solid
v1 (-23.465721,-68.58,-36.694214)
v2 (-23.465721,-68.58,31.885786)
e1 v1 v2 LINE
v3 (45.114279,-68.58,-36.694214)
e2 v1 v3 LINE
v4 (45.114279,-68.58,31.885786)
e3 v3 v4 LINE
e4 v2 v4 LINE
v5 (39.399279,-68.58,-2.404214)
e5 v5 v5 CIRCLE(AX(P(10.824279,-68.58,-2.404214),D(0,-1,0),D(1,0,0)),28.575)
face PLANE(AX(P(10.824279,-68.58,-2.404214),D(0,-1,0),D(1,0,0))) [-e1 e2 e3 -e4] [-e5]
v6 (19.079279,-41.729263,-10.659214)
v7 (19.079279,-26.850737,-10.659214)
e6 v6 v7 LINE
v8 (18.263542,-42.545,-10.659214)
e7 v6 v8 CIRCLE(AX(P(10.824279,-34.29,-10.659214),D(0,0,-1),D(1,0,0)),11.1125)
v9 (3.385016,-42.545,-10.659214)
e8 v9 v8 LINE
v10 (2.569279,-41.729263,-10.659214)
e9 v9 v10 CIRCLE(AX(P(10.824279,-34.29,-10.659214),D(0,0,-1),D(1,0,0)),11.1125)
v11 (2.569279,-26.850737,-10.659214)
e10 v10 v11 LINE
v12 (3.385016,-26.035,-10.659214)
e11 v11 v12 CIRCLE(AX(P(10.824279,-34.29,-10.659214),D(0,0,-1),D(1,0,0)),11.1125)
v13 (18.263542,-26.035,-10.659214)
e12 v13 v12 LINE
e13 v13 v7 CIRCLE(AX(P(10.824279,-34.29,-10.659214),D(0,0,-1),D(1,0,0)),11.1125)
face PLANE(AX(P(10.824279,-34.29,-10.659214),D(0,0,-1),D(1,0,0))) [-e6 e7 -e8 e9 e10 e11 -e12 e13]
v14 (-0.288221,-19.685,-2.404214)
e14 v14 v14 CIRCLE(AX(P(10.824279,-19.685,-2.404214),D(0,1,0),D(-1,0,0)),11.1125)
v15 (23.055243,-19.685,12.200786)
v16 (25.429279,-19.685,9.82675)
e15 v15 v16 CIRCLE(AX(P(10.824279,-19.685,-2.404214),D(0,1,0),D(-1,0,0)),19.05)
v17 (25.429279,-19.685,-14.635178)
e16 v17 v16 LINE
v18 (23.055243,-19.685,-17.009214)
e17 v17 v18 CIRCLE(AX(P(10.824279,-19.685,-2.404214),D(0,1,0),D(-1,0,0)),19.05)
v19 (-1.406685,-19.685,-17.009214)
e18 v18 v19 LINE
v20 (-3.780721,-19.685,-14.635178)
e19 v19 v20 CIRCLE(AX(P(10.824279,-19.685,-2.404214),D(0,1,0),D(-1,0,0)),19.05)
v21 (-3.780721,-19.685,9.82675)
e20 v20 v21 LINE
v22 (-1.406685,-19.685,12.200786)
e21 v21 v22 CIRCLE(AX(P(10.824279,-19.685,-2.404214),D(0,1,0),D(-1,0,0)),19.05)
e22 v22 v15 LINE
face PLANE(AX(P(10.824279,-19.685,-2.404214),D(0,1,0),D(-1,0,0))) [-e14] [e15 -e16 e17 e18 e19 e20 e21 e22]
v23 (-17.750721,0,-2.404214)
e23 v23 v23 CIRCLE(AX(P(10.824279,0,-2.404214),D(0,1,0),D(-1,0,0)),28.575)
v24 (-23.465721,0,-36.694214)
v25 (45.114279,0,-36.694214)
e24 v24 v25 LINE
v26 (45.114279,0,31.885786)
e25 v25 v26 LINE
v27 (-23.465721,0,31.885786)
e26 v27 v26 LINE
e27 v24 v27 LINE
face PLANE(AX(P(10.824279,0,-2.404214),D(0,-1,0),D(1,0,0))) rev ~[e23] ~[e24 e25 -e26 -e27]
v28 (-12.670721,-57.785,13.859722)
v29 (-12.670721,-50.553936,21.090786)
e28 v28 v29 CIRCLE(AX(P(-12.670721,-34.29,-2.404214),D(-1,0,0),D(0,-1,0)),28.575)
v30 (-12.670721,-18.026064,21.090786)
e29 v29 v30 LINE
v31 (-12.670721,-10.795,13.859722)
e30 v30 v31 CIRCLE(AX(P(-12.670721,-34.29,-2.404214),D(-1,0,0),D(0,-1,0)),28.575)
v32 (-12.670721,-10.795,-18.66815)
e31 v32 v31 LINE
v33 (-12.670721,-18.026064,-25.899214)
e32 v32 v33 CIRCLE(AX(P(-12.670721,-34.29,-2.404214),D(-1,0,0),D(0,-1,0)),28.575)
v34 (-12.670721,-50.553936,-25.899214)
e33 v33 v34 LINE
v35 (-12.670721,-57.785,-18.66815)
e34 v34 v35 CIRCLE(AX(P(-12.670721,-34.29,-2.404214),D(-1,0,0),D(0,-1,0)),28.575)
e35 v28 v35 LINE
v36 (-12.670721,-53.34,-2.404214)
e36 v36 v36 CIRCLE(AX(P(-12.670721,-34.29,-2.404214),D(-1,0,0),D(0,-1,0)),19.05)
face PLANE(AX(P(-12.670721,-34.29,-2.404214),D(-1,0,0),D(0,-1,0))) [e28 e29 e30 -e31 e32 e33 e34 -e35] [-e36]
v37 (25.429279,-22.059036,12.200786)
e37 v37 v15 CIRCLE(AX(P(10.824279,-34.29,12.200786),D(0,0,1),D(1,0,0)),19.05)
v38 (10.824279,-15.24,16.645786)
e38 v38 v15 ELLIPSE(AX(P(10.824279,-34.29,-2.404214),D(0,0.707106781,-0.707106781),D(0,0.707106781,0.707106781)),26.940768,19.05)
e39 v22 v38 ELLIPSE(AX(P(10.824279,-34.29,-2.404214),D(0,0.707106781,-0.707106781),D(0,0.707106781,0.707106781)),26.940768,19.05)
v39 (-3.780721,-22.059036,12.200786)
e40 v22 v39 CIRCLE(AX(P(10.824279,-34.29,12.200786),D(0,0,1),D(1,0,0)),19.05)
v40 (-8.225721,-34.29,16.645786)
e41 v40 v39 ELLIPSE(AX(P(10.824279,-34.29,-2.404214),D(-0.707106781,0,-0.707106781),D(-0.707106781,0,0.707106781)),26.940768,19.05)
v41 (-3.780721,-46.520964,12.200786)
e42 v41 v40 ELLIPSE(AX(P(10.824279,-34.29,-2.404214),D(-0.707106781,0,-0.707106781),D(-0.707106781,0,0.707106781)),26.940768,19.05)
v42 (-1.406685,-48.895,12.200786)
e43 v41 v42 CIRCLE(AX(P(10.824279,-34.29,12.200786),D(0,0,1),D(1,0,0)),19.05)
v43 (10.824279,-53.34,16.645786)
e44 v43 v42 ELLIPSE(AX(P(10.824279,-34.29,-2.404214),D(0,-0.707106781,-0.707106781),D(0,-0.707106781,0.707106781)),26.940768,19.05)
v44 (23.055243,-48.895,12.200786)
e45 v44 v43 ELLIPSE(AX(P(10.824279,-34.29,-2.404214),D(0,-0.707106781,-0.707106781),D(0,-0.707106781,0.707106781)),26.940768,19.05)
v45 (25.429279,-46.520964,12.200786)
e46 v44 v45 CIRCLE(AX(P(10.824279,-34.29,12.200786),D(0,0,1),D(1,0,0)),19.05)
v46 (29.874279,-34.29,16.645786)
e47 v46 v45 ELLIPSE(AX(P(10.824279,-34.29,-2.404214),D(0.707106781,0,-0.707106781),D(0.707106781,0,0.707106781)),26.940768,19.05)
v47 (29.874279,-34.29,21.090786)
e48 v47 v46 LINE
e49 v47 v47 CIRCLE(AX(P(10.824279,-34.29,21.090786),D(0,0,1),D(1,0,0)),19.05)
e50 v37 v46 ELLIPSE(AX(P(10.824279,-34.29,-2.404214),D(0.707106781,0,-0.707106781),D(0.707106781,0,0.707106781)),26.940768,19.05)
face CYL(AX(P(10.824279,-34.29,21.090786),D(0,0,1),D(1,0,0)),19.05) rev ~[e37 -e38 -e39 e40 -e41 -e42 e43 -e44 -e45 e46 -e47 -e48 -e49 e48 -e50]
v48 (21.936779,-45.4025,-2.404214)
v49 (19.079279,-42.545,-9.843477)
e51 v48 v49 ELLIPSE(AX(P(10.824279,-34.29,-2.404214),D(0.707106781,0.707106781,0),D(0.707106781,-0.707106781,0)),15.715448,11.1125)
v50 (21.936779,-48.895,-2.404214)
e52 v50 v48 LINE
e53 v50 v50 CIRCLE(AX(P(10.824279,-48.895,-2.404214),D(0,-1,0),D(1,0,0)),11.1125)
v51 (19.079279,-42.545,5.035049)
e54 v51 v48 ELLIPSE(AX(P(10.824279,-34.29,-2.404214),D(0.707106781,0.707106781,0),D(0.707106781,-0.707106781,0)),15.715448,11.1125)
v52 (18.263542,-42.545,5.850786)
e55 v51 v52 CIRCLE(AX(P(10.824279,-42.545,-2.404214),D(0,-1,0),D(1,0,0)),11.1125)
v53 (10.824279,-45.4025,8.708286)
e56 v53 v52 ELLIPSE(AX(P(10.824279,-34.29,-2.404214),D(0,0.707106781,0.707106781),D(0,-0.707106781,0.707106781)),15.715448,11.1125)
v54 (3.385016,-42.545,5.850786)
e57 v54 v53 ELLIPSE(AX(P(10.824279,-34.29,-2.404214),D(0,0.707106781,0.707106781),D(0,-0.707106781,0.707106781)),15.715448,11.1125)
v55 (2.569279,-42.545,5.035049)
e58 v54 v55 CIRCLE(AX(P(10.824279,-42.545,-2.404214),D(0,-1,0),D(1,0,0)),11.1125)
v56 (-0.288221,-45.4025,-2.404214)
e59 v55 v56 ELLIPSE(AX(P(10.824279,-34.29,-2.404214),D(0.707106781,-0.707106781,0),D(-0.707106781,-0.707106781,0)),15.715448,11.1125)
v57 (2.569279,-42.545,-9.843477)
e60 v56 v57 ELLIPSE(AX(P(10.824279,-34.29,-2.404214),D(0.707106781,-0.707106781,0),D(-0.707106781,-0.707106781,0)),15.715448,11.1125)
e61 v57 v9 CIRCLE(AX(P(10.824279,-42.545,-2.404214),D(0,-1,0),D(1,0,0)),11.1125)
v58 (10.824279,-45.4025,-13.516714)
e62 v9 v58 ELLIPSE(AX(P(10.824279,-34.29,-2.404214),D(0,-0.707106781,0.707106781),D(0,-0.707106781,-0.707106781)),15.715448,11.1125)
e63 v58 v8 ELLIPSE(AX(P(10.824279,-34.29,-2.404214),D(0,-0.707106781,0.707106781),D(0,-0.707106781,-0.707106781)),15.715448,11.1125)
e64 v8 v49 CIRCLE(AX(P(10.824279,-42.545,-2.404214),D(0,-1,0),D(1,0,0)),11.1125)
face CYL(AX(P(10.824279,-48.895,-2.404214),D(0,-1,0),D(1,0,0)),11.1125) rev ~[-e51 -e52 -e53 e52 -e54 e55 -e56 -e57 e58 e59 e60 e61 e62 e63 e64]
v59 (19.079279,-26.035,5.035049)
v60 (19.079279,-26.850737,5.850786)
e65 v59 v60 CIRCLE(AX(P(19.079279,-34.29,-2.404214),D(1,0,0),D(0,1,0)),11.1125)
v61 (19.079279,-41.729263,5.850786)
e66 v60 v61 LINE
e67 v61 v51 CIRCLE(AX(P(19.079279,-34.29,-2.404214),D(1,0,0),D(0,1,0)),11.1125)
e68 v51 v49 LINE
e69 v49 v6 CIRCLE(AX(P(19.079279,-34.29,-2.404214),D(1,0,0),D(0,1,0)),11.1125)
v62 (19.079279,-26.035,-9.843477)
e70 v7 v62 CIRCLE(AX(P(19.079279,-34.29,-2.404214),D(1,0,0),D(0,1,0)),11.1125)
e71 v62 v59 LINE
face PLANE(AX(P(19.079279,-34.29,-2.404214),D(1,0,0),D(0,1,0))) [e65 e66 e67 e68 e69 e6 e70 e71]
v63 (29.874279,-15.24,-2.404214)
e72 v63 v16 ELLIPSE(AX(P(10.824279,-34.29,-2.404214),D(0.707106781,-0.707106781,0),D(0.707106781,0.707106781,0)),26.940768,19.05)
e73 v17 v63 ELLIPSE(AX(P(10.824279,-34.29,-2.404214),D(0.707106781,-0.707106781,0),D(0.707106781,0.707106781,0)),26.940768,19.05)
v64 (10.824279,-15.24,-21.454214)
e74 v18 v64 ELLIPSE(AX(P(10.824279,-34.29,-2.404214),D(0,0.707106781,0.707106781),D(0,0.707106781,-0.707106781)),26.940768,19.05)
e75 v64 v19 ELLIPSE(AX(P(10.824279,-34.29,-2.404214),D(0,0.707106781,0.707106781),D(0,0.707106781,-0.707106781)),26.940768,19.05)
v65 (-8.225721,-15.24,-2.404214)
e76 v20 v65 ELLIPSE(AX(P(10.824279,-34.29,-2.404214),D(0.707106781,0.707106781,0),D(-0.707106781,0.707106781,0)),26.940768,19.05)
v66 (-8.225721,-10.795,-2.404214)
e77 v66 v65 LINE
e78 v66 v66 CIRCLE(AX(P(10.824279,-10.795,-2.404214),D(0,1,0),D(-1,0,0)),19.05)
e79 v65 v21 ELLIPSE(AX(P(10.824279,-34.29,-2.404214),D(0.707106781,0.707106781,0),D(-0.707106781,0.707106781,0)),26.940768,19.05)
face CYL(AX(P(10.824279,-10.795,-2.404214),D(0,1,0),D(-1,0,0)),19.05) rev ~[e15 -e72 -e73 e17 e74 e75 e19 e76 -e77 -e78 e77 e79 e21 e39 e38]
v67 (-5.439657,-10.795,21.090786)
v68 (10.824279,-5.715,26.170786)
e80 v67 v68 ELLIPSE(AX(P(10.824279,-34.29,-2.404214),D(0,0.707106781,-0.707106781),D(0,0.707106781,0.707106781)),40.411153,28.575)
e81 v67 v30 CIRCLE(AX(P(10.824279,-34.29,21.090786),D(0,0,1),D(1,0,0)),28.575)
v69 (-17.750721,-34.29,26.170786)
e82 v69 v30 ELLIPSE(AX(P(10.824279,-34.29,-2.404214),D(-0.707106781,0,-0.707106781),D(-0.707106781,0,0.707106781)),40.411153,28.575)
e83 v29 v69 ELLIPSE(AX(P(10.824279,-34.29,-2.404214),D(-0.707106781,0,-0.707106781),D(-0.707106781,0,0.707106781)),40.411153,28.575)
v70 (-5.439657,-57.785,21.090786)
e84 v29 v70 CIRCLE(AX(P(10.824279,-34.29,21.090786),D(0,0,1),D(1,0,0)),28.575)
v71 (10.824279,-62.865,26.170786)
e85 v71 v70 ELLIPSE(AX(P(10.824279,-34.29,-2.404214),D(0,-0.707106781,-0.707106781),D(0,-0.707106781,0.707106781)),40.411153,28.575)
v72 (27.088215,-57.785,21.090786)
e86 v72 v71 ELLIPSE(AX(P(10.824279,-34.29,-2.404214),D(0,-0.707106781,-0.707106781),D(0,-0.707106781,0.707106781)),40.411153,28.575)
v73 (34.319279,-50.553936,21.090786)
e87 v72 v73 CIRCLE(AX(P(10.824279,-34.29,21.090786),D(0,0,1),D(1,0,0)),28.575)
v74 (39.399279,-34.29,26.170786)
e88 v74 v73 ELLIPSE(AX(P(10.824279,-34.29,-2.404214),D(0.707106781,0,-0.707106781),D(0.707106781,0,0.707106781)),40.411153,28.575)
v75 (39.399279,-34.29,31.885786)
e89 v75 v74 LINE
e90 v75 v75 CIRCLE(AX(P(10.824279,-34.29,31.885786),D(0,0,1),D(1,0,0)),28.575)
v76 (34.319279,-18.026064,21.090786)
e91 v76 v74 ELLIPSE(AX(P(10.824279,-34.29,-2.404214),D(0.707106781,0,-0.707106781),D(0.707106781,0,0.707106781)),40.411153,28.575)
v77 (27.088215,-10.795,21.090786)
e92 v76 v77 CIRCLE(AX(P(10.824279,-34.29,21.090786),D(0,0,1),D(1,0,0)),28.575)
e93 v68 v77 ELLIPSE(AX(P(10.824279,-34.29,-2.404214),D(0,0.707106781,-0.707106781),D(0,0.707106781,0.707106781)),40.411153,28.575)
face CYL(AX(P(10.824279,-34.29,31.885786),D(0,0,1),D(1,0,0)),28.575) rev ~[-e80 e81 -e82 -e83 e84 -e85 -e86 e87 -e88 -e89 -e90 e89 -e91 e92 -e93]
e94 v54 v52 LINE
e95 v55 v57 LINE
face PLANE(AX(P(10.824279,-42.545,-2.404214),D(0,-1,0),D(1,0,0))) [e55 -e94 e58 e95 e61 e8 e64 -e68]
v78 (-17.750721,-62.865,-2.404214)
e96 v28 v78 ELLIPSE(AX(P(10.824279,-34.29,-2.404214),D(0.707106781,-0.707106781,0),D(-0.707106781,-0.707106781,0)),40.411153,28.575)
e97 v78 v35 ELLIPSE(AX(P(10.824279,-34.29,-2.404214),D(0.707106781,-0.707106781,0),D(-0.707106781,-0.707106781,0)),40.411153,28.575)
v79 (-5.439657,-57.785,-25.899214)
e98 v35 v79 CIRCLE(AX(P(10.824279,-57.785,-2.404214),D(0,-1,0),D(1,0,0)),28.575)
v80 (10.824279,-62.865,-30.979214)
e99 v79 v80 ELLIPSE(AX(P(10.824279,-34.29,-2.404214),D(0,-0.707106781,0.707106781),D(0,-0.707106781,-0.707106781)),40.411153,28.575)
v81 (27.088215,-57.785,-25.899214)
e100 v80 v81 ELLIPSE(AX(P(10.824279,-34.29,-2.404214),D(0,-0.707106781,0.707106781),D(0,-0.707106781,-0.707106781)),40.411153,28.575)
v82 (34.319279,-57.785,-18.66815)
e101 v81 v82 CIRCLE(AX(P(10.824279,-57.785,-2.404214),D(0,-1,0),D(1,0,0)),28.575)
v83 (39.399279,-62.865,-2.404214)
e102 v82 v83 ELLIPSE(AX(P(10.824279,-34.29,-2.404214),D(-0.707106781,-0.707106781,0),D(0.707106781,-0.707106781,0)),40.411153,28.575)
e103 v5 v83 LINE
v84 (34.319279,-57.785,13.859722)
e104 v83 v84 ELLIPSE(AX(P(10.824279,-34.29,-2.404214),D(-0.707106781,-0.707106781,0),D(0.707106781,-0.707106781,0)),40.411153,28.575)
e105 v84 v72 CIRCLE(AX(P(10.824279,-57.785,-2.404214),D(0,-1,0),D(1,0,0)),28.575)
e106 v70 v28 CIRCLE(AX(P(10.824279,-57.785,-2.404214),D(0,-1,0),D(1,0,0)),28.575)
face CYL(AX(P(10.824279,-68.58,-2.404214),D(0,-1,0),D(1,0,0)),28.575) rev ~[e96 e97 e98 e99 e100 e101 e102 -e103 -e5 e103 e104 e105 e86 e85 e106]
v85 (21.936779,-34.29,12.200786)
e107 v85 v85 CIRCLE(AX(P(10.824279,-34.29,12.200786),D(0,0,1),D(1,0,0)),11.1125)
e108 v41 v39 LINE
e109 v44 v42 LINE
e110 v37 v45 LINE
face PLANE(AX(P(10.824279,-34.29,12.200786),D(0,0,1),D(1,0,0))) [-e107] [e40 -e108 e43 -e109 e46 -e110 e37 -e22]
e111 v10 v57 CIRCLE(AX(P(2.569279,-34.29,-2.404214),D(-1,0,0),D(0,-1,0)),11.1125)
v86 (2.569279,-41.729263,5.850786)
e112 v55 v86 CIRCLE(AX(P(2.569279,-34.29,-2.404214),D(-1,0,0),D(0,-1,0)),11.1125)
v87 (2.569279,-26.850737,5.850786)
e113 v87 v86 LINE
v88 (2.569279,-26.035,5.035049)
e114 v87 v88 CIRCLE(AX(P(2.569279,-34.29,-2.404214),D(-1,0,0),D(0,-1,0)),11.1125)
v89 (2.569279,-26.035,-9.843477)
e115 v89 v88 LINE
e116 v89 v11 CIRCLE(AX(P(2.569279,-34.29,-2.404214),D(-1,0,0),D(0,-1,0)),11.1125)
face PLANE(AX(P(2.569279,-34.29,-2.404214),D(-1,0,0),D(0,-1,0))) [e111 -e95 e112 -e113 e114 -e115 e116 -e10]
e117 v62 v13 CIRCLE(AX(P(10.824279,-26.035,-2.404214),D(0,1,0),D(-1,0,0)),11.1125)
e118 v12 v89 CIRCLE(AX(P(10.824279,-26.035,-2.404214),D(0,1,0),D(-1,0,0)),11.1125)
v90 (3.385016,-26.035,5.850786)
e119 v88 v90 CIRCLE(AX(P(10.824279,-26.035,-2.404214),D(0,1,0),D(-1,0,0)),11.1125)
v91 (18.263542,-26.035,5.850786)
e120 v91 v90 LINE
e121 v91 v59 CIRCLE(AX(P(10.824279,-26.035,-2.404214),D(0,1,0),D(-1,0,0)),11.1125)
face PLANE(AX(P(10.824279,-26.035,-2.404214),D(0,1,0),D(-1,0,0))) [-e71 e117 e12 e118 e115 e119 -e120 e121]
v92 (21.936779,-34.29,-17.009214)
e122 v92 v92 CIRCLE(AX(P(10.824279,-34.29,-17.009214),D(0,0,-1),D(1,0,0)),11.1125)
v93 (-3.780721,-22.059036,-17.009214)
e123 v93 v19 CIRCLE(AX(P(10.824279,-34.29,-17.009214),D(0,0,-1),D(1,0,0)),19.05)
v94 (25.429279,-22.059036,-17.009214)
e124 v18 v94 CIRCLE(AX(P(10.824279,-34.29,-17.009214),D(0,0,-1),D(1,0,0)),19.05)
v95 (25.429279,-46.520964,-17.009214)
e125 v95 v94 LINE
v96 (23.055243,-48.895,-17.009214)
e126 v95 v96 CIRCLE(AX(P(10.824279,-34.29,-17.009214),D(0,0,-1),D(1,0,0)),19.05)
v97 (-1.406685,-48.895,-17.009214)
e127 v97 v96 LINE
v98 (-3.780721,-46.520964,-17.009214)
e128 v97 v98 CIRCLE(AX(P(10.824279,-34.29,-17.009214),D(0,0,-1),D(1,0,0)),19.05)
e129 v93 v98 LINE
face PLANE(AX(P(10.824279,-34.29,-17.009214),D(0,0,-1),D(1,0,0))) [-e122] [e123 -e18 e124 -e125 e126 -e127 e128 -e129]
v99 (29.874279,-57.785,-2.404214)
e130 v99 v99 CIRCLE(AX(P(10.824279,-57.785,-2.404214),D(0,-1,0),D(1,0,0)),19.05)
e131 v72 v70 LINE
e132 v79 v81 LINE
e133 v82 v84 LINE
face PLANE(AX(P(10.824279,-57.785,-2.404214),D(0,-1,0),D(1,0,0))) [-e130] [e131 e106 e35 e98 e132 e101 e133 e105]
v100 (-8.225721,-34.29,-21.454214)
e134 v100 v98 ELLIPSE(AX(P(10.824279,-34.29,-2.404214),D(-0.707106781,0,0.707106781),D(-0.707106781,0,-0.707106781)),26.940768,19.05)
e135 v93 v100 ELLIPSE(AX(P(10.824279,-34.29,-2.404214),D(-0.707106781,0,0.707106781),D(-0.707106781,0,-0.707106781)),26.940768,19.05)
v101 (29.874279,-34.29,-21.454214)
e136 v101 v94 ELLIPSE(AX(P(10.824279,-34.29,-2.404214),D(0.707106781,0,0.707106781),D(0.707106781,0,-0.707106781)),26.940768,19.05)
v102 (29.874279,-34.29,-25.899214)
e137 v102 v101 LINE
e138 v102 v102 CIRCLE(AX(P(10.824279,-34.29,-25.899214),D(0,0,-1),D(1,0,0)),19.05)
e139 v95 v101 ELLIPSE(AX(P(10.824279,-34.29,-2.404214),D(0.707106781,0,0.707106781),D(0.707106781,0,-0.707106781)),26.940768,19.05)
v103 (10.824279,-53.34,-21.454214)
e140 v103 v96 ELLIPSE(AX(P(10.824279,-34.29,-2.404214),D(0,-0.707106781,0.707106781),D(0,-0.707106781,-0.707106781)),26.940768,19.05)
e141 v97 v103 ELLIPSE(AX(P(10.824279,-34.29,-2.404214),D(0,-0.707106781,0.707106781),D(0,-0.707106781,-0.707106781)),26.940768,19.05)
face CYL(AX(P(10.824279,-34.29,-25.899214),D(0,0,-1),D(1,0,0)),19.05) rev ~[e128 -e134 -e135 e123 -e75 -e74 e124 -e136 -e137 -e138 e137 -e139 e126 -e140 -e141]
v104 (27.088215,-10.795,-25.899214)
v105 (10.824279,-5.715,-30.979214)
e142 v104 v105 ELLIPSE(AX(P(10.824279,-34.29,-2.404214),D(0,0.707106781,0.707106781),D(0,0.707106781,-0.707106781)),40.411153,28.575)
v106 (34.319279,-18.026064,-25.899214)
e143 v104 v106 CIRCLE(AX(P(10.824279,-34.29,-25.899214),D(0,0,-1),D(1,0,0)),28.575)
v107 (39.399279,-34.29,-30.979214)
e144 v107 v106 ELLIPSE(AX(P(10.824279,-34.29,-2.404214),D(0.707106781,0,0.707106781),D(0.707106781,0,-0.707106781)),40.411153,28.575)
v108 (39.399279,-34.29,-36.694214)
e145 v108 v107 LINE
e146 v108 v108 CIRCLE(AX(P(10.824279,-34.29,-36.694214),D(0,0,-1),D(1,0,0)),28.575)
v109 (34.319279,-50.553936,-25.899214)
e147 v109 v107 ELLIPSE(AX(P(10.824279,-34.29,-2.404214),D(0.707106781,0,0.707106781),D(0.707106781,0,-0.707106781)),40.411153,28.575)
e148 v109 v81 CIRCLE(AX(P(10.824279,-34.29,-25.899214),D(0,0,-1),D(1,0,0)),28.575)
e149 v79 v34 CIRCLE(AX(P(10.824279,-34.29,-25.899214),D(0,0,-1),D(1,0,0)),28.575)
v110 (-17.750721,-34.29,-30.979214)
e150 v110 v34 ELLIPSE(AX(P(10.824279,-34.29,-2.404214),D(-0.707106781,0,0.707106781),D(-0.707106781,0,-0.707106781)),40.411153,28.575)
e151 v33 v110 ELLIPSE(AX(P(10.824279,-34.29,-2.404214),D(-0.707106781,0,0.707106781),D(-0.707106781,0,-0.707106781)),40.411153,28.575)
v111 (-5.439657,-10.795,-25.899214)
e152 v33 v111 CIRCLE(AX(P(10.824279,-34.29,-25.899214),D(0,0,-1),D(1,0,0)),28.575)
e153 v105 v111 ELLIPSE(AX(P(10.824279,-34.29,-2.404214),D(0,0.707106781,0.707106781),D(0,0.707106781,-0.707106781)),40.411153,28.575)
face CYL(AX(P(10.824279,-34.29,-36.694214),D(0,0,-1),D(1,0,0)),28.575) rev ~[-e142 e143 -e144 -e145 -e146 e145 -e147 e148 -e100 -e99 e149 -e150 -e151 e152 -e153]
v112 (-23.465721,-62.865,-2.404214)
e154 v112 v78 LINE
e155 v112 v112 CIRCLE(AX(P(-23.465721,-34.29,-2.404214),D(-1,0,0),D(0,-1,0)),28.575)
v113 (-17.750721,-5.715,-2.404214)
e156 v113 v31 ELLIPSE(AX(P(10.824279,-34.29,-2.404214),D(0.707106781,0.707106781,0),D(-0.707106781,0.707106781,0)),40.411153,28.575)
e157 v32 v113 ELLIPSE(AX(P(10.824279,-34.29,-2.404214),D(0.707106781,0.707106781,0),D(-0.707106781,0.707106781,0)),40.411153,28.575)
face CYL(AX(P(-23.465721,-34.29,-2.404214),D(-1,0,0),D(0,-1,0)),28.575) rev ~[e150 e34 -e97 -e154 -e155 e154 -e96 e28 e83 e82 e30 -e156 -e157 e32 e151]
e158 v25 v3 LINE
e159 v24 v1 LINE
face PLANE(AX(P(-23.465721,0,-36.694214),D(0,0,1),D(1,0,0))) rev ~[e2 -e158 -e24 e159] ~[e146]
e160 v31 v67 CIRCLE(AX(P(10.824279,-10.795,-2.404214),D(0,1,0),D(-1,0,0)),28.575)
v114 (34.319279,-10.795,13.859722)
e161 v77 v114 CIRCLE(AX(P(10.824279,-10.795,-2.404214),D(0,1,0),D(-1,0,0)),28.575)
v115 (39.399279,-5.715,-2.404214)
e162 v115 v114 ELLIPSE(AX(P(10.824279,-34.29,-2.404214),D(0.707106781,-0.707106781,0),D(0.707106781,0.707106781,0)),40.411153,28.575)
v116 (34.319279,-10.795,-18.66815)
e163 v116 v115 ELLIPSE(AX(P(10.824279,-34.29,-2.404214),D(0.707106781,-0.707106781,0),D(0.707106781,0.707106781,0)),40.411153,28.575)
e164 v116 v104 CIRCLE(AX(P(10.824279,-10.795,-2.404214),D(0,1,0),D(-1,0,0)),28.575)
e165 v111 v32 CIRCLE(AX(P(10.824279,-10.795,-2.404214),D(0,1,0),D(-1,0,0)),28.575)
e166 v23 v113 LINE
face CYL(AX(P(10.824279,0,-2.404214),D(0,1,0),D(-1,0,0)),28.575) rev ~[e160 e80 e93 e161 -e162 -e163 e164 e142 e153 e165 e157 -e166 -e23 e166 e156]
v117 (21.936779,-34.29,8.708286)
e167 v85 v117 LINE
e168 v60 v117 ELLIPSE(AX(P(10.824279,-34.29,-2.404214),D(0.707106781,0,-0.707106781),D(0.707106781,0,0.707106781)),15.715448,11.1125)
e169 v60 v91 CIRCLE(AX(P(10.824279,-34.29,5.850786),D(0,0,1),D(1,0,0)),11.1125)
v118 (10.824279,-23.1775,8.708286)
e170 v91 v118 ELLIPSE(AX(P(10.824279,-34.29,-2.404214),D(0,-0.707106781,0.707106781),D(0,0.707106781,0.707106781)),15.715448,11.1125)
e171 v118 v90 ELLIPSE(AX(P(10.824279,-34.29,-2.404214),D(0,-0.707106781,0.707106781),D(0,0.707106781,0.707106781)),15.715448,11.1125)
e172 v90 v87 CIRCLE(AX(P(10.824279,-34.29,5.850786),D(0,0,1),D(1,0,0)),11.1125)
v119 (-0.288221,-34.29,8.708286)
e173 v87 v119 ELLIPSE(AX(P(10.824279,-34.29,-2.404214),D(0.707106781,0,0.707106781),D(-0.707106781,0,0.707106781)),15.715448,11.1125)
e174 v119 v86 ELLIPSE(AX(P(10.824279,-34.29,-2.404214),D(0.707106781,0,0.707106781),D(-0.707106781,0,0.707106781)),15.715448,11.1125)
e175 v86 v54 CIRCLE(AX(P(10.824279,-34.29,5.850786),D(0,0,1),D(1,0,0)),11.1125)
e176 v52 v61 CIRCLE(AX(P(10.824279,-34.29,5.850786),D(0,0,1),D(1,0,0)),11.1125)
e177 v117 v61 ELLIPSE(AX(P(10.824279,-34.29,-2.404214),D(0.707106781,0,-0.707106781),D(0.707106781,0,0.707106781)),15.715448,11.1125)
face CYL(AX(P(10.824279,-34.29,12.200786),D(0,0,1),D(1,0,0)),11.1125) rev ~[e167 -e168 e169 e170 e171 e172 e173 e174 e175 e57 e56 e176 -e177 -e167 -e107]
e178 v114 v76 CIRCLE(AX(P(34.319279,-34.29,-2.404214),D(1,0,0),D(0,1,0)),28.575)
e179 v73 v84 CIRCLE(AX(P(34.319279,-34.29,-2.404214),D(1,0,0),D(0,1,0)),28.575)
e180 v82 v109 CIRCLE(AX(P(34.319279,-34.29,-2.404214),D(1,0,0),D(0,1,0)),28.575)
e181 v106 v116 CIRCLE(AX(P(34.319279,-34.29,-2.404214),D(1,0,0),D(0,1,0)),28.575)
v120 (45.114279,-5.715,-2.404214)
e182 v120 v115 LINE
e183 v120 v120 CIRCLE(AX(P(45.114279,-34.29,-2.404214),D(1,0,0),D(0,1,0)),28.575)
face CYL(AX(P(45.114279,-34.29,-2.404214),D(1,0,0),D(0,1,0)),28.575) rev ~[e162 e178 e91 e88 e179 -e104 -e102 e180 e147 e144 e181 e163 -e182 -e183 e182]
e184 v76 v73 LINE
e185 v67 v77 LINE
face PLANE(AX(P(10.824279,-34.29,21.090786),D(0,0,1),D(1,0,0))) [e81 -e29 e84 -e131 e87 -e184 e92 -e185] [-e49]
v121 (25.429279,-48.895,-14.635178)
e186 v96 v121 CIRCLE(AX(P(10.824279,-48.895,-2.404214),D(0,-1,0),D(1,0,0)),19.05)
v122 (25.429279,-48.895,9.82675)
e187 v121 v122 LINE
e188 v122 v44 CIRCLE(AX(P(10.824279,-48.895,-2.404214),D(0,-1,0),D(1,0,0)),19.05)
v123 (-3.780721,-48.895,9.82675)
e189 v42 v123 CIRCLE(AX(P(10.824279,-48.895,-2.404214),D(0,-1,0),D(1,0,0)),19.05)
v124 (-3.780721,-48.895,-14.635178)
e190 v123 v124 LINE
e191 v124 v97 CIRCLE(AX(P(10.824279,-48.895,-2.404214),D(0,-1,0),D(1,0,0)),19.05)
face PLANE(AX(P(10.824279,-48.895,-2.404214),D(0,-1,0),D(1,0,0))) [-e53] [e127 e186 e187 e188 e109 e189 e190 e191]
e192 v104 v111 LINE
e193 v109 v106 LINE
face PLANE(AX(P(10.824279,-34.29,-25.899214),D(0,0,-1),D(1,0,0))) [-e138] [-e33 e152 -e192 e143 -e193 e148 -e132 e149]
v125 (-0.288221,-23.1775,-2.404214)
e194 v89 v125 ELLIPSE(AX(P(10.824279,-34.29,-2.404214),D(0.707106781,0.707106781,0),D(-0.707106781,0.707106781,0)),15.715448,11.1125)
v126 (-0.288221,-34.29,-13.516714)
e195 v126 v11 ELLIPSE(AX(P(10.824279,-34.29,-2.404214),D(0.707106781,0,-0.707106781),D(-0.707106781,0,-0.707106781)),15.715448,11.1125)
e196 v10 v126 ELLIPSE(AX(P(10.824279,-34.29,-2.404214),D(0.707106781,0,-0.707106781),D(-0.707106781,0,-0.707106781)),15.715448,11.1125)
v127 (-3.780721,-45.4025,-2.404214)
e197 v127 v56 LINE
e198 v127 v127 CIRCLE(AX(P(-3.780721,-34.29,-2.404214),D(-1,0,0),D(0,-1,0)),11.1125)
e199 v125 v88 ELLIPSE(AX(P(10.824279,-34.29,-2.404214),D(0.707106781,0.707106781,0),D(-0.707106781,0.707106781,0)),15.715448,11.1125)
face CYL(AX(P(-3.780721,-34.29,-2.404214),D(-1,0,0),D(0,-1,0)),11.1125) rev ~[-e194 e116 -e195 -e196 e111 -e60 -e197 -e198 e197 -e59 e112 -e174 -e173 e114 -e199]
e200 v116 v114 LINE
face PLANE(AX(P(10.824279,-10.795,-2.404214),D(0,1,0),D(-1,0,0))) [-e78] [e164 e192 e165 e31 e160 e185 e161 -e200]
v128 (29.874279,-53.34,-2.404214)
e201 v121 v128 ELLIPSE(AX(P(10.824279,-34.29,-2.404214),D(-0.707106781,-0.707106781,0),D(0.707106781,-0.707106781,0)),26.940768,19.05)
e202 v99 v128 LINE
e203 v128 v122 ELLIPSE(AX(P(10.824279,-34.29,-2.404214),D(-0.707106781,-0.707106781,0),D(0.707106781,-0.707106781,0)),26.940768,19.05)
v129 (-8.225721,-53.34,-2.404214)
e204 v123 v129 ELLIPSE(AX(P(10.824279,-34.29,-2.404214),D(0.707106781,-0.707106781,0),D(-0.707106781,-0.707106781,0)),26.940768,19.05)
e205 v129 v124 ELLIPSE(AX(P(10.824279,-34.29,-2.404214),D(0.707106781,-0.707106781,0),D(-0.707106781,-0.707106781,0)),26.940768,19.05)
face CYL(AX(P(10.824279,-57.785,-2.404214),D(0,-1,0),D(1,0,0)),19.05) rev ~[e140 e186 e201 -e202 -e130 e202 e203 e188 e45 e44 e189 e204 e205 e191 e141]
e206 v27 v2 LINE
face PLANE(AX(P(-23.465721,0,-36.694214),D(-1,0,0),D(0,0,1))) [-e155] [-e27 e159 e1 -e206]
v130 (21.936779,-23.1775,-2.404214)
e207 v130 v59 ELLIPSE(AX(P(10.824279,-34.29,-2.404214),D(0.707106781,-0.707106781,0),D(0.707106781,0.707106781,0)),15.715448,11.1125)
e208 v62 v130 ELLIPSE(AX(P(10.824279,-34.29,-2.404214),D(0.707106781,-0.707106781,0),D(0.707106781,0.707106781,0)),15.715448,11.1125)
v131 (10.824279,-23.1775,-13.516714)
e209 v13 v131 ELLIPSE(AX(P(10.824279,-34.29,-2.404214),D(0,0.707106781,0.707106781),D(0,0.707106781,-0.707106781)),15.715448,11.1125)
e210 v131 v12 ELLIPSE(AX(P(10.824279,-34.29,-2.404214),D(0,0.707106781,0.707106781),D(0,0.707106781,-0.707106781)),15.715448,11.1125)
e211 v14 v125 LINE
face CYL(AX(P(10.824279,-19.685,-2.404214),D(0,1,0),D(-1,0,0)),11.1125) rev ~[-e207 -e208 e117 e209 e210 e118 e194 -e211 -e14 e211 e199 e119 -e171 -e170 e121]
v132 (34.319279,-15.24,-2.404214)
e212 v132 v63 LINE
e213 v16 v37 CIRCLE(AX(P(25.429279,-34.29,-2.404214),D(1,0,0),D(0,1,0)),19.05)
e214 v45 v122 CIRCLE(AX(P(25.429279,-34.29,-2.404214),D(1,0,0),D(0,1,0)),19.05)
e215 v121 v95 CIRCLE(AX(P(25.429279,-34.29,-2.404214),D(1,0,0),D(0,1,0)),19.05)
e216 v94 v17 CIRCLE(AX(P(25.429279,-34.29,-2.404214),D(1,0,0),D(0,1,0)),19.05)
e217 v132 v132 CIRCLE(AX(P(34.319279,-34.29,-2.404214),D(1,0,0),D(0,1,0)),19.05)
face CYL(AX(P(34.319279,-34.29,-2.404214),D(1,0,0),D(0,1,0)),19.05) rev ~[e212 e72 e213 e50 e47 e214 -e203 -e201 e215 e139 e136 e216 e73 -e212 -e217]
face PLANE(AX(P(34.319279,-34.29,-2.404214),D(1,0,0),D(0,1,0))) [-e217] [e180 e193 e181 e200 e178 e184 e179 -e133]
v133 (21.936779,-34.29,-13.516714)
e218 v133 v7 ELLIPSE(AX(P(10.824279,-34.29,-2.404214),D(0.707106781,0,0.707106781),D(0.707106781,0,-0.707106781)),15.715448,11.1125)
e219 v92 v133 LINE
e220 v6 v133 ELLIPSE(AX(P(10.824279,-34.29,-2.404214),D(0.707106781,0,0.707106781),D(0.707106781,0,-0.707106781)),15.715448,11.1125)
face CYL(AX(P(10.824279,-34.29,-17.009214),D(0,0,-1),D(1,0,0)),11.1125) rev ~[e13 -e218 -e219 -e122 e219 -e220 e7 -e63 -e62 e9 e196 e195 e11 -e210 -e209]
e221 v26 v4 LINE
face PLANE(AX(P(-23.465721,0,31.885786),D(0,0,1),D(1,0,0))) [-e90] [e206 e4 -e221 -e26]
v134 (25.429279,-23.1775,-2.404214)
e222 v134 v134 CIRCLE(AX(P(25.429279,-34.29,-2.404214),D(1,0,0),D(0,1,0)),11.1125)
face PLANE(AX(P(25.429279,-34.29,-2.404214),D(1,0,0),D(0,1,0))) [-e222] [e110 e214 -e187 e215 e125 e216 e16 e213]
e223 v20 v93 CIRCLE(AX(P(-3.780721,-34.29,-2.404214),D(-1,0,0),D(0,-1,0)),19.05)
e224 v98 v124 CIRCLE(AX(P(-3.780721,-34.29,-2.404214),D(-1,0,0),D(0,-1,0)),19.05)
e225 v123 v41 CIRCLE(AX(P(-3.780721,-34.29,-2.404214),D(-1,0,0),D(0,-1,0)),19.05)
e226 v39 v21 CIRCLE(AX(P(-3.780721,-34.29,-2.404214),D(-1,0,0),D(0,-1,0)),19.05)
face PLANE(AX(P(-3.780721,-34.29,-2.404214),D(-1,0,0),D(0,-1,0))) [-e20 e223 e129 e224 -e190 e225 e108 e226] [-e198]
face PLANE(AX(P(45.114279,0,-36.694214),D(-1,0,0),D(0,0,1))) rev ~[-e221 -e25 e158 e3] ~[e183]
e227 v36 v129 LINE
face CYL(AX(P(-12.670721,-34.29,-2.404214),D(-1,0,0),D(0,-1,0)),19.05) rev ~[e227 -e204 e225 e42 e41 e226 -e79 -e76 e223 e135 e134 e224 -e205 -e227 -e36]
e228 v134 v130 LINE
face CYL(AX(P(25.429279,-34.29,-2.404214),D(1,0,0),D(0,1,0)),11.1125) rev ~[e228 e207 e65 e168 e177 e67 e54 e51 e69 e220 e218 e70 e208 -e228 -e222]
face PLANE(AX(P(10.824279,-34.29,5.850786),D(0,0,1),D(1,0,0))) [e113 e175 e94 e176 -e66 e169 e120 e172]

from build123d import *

# Parameters (mm, degrees)
F0_W      = 68.58
F0_H      = 68.58
F1_DEPTH  = 68.58
F2_R      = 28.575
F3_DEPTH  = 10.795
F4_R      = 28.575
F5_DEPTH  = 10.795
F6_R      = 28.575
F7_DEPTH  = 10.795
F8_R      = 28.575
F9_DEPTH  = 10.795
F10_R     = 28.575
F11_DEPTH = 10.795
F12_R     = 28.575
F13_DEPTH = 10.795
F14_R     = 19.05
F15_DEPTH = 8.89
F16_R     = 19.05
F17_DEPTH = 8.89
F18_R     = 19.05
F19_DEPTH = 8.89
F20_R     = 19.05
F21_DEPTH = 8.89
F22_R     = 19.05
F23_DEPTH = 8.89
F24_R     = 19.05
F25_DEPTH = 8.89
F26_R     = 11.1125
F27_DEPTH = 6.35
F28_R     = 11.1125
F29_DEPTH = 6.35
F30_R     = 11.1125
F31_DEPTH = 6.35
F32_R     = 11.1125
F33_DEPTH = 6.35
F34_R     = 11.1125
F35_DEPTH = 6.35
F36_R     = 11.1125
F37_DEPTH = 6.35


with BuildPart() as f1:
    # F0 (on Front) → F1 (new body)
    with BuildSketch(Plane.XZ):
        with Locations((10.824279, -2.404214)):
            Rectangle(F0_W, F0_H)
    extrude(amount=F1_DEPTH)

    # F2 (on face) → F3 (cut)
    with BuildSketch(Plane.XZ.offset(68.58)):
        with Locations((10.824279, -2.404214)):
            Circle(F2_R)
    extrude(amount=-F3_DEPTH, mode=Mode.SUBTRACT)

    # F4 (on face) → F5 (cut)
    with BuildSketch(Plane.YZ.offset(45.114279)):
        with Locations((-34.29, -2.404214)):
            Circle(F4_R)
    extrude(amount=-F5_DEPTH, mode=Mode.SUBTRACT)

    # F6 (on face) → F7 (cut)
    with BuildSketch(Plane(origin=(0, 0, 0), x_dir=(-1, 0, 0), z_dir=(0, 1, 0))):
        with Locations((-10.824279, -2.404214)):
            Circle(F6_R)
    extrude(amount=-F7_DEPTH, mode=Mode.SUBTRACT)

    # F8 (on face) → F9 (cut)
    with BuildSketch(Plane(origin=(-23.465721, 0, 0), x_dir=(0, -1, 0), z_dir=(-1, 0, 0))):
        with Locations((34.29, -2.404214)):
            Circle(F8_R)
    extrude(amount=-F9_DEPTH, mode=Mode.SUBTRACT)

    # F10 (on face) → F11 (cut)
    with BuildSketch(Plane.XY.offset(31.885786)):
        with Locations((10.824279, -34.29)):
            Circle(F10_R)
    extrude(amount=-F11_DEPTH, mode=Mode.SUBTRACT)

    # F12 (on face) → F13 (cut)
    with BuildSketch(Plane(origin=(0, 0, -36.694214), x_dir=(1, 0, 0), z_dir=(0, 0, -1))):
        with Locations((10.824279, 34.29)):
            Circle(F12_R)
    extrude(amount=-F13_DEPTH, mode=Mode.SUBTRACT)

    # F14 (on face) → F15 (cut)
    with BuildSketch(Plane.XZ.offset(57.785)):
        with Locations((10.824279, -2.404214)):
            Circle(F14_R)
    extrude(amount=-F15_DEPTH, mode=Mode.SUBTRACT)

    # F16 (on face) → F17 (cut)
    with BuildSketch(Plane.YZ.offset(34.319279)):
        with Locations((-34.29, -2.404214)):
            Circle(F16_R)
    extrude(amount=-F17_DEPTH, mode=Mode.SUBTRACT)

    # F18 (on face) → F19 (cut)
    with BuildSketch(Plane(origin=(0, -10.795, 0), x_dir=(-1, 0, 0), z_dir=(0, 1, 0))):
        with Locations((-10.824279, -2.404214)):
            Circle(F18_R)
    extrude(amount=-F19_DEPTH, mode=Mode.SUBTRACT)

    # F20 (on face) → F21 (cut)
    with BuildSketch(Plane(origin=(-12.670721, 0, 0), x_dir=(0, -1, 0), z_dir=(-1, 0, 0))):
        with Locations((34.29, -2.404214)):
            Circle(F20_R)
    extrude(amount=-F21_DEPTH, mode=Mode.SUBTRACT)

    # F22 (on face) → F23 (cut)
    with BuildSketch(Plane.XY.offset(21.090786)):
        with Locations((10.824279, -34.29)):
            Circle(F22_R)
    extrude(amount=-F23_DEPTH, mode=Mode.SUBTRACT)

    # F24 (on face) → F25 (cut)
    with BuildSketch(Plane(origin=(0, 0, -25.899214), x_dir=(1, 0, 0), z_dir=(0, 0, -1))):
        with Locations((10.824279, 34.29)):
            Circle(F24_R)
    extrude(amount=-F25_DEPTH, mode=Mode.SUBTRACT)

    # F26 (on face) → F27 (cut)
    with BuildSketch(Plane.YZ.offset(25.429279)):
        with Locations((-34.29, -2.404214)):
            Circle(F26_R)
    extrude(amount=-F27_DEPTH, mode=Mode.SUBTRACT)

    # F28 (on face) → F29 (cut)
    with BuildSketch(Plane.XY.offset(12.200786)):
        with Locations((10.824279, -34.29)):
            Circle(F28_R)
    extrude(amount=-F29_DEPTH, mode=Mode.SUBTRACT)

    # F30 (on face) → F31 (cut)
    with BuildSketch(Plane.XZ.offset(48.895)):
        with Locations((10.824279, -2.404214)):
            Circle(F30_R)
    extrude(amount=-F31_DEPTH, mode=Mode.SUBTRACT)

    # F32 (on face) → F33 (cut)
    with BuildSketch(Plane(origin=(0, -19.685, 0), x_dir=(-1, 0, 0), z_dir=(0, 1, 0))):
        with Locations((-10.824279, -2.404214)):
            Circle(F32_R)
    extrude(amount=-F33_DEPTH, mode=Mode.SUBTRACT)

    # F34 (on face) → F35 (cut)
    with BuildSketch(Plane(origin=(0, 0, -17.009214), x_dir=(1, 0, 0), z_dir=(0, 0, -1))):
        with Locations((10.824279, 34.29)):
            Circle(F34_R)
    extrude(amount=-F35_DEPTH, mode=Mode.SUBTRACT)

    # F36 (on face) → F37 (cut)
    with BuildSketch(Plane(origin=(-3.780721, 0, 0), x_dir=(0, -1, 0), z_dir=(-1, 0, 0))):
        with Locations((34.29, -2.404214)):
            Circle(F36_R)
    extrude(amount=-F37_DEPTH, mode=Mode.SUBTRACT)


solid = f1.part
